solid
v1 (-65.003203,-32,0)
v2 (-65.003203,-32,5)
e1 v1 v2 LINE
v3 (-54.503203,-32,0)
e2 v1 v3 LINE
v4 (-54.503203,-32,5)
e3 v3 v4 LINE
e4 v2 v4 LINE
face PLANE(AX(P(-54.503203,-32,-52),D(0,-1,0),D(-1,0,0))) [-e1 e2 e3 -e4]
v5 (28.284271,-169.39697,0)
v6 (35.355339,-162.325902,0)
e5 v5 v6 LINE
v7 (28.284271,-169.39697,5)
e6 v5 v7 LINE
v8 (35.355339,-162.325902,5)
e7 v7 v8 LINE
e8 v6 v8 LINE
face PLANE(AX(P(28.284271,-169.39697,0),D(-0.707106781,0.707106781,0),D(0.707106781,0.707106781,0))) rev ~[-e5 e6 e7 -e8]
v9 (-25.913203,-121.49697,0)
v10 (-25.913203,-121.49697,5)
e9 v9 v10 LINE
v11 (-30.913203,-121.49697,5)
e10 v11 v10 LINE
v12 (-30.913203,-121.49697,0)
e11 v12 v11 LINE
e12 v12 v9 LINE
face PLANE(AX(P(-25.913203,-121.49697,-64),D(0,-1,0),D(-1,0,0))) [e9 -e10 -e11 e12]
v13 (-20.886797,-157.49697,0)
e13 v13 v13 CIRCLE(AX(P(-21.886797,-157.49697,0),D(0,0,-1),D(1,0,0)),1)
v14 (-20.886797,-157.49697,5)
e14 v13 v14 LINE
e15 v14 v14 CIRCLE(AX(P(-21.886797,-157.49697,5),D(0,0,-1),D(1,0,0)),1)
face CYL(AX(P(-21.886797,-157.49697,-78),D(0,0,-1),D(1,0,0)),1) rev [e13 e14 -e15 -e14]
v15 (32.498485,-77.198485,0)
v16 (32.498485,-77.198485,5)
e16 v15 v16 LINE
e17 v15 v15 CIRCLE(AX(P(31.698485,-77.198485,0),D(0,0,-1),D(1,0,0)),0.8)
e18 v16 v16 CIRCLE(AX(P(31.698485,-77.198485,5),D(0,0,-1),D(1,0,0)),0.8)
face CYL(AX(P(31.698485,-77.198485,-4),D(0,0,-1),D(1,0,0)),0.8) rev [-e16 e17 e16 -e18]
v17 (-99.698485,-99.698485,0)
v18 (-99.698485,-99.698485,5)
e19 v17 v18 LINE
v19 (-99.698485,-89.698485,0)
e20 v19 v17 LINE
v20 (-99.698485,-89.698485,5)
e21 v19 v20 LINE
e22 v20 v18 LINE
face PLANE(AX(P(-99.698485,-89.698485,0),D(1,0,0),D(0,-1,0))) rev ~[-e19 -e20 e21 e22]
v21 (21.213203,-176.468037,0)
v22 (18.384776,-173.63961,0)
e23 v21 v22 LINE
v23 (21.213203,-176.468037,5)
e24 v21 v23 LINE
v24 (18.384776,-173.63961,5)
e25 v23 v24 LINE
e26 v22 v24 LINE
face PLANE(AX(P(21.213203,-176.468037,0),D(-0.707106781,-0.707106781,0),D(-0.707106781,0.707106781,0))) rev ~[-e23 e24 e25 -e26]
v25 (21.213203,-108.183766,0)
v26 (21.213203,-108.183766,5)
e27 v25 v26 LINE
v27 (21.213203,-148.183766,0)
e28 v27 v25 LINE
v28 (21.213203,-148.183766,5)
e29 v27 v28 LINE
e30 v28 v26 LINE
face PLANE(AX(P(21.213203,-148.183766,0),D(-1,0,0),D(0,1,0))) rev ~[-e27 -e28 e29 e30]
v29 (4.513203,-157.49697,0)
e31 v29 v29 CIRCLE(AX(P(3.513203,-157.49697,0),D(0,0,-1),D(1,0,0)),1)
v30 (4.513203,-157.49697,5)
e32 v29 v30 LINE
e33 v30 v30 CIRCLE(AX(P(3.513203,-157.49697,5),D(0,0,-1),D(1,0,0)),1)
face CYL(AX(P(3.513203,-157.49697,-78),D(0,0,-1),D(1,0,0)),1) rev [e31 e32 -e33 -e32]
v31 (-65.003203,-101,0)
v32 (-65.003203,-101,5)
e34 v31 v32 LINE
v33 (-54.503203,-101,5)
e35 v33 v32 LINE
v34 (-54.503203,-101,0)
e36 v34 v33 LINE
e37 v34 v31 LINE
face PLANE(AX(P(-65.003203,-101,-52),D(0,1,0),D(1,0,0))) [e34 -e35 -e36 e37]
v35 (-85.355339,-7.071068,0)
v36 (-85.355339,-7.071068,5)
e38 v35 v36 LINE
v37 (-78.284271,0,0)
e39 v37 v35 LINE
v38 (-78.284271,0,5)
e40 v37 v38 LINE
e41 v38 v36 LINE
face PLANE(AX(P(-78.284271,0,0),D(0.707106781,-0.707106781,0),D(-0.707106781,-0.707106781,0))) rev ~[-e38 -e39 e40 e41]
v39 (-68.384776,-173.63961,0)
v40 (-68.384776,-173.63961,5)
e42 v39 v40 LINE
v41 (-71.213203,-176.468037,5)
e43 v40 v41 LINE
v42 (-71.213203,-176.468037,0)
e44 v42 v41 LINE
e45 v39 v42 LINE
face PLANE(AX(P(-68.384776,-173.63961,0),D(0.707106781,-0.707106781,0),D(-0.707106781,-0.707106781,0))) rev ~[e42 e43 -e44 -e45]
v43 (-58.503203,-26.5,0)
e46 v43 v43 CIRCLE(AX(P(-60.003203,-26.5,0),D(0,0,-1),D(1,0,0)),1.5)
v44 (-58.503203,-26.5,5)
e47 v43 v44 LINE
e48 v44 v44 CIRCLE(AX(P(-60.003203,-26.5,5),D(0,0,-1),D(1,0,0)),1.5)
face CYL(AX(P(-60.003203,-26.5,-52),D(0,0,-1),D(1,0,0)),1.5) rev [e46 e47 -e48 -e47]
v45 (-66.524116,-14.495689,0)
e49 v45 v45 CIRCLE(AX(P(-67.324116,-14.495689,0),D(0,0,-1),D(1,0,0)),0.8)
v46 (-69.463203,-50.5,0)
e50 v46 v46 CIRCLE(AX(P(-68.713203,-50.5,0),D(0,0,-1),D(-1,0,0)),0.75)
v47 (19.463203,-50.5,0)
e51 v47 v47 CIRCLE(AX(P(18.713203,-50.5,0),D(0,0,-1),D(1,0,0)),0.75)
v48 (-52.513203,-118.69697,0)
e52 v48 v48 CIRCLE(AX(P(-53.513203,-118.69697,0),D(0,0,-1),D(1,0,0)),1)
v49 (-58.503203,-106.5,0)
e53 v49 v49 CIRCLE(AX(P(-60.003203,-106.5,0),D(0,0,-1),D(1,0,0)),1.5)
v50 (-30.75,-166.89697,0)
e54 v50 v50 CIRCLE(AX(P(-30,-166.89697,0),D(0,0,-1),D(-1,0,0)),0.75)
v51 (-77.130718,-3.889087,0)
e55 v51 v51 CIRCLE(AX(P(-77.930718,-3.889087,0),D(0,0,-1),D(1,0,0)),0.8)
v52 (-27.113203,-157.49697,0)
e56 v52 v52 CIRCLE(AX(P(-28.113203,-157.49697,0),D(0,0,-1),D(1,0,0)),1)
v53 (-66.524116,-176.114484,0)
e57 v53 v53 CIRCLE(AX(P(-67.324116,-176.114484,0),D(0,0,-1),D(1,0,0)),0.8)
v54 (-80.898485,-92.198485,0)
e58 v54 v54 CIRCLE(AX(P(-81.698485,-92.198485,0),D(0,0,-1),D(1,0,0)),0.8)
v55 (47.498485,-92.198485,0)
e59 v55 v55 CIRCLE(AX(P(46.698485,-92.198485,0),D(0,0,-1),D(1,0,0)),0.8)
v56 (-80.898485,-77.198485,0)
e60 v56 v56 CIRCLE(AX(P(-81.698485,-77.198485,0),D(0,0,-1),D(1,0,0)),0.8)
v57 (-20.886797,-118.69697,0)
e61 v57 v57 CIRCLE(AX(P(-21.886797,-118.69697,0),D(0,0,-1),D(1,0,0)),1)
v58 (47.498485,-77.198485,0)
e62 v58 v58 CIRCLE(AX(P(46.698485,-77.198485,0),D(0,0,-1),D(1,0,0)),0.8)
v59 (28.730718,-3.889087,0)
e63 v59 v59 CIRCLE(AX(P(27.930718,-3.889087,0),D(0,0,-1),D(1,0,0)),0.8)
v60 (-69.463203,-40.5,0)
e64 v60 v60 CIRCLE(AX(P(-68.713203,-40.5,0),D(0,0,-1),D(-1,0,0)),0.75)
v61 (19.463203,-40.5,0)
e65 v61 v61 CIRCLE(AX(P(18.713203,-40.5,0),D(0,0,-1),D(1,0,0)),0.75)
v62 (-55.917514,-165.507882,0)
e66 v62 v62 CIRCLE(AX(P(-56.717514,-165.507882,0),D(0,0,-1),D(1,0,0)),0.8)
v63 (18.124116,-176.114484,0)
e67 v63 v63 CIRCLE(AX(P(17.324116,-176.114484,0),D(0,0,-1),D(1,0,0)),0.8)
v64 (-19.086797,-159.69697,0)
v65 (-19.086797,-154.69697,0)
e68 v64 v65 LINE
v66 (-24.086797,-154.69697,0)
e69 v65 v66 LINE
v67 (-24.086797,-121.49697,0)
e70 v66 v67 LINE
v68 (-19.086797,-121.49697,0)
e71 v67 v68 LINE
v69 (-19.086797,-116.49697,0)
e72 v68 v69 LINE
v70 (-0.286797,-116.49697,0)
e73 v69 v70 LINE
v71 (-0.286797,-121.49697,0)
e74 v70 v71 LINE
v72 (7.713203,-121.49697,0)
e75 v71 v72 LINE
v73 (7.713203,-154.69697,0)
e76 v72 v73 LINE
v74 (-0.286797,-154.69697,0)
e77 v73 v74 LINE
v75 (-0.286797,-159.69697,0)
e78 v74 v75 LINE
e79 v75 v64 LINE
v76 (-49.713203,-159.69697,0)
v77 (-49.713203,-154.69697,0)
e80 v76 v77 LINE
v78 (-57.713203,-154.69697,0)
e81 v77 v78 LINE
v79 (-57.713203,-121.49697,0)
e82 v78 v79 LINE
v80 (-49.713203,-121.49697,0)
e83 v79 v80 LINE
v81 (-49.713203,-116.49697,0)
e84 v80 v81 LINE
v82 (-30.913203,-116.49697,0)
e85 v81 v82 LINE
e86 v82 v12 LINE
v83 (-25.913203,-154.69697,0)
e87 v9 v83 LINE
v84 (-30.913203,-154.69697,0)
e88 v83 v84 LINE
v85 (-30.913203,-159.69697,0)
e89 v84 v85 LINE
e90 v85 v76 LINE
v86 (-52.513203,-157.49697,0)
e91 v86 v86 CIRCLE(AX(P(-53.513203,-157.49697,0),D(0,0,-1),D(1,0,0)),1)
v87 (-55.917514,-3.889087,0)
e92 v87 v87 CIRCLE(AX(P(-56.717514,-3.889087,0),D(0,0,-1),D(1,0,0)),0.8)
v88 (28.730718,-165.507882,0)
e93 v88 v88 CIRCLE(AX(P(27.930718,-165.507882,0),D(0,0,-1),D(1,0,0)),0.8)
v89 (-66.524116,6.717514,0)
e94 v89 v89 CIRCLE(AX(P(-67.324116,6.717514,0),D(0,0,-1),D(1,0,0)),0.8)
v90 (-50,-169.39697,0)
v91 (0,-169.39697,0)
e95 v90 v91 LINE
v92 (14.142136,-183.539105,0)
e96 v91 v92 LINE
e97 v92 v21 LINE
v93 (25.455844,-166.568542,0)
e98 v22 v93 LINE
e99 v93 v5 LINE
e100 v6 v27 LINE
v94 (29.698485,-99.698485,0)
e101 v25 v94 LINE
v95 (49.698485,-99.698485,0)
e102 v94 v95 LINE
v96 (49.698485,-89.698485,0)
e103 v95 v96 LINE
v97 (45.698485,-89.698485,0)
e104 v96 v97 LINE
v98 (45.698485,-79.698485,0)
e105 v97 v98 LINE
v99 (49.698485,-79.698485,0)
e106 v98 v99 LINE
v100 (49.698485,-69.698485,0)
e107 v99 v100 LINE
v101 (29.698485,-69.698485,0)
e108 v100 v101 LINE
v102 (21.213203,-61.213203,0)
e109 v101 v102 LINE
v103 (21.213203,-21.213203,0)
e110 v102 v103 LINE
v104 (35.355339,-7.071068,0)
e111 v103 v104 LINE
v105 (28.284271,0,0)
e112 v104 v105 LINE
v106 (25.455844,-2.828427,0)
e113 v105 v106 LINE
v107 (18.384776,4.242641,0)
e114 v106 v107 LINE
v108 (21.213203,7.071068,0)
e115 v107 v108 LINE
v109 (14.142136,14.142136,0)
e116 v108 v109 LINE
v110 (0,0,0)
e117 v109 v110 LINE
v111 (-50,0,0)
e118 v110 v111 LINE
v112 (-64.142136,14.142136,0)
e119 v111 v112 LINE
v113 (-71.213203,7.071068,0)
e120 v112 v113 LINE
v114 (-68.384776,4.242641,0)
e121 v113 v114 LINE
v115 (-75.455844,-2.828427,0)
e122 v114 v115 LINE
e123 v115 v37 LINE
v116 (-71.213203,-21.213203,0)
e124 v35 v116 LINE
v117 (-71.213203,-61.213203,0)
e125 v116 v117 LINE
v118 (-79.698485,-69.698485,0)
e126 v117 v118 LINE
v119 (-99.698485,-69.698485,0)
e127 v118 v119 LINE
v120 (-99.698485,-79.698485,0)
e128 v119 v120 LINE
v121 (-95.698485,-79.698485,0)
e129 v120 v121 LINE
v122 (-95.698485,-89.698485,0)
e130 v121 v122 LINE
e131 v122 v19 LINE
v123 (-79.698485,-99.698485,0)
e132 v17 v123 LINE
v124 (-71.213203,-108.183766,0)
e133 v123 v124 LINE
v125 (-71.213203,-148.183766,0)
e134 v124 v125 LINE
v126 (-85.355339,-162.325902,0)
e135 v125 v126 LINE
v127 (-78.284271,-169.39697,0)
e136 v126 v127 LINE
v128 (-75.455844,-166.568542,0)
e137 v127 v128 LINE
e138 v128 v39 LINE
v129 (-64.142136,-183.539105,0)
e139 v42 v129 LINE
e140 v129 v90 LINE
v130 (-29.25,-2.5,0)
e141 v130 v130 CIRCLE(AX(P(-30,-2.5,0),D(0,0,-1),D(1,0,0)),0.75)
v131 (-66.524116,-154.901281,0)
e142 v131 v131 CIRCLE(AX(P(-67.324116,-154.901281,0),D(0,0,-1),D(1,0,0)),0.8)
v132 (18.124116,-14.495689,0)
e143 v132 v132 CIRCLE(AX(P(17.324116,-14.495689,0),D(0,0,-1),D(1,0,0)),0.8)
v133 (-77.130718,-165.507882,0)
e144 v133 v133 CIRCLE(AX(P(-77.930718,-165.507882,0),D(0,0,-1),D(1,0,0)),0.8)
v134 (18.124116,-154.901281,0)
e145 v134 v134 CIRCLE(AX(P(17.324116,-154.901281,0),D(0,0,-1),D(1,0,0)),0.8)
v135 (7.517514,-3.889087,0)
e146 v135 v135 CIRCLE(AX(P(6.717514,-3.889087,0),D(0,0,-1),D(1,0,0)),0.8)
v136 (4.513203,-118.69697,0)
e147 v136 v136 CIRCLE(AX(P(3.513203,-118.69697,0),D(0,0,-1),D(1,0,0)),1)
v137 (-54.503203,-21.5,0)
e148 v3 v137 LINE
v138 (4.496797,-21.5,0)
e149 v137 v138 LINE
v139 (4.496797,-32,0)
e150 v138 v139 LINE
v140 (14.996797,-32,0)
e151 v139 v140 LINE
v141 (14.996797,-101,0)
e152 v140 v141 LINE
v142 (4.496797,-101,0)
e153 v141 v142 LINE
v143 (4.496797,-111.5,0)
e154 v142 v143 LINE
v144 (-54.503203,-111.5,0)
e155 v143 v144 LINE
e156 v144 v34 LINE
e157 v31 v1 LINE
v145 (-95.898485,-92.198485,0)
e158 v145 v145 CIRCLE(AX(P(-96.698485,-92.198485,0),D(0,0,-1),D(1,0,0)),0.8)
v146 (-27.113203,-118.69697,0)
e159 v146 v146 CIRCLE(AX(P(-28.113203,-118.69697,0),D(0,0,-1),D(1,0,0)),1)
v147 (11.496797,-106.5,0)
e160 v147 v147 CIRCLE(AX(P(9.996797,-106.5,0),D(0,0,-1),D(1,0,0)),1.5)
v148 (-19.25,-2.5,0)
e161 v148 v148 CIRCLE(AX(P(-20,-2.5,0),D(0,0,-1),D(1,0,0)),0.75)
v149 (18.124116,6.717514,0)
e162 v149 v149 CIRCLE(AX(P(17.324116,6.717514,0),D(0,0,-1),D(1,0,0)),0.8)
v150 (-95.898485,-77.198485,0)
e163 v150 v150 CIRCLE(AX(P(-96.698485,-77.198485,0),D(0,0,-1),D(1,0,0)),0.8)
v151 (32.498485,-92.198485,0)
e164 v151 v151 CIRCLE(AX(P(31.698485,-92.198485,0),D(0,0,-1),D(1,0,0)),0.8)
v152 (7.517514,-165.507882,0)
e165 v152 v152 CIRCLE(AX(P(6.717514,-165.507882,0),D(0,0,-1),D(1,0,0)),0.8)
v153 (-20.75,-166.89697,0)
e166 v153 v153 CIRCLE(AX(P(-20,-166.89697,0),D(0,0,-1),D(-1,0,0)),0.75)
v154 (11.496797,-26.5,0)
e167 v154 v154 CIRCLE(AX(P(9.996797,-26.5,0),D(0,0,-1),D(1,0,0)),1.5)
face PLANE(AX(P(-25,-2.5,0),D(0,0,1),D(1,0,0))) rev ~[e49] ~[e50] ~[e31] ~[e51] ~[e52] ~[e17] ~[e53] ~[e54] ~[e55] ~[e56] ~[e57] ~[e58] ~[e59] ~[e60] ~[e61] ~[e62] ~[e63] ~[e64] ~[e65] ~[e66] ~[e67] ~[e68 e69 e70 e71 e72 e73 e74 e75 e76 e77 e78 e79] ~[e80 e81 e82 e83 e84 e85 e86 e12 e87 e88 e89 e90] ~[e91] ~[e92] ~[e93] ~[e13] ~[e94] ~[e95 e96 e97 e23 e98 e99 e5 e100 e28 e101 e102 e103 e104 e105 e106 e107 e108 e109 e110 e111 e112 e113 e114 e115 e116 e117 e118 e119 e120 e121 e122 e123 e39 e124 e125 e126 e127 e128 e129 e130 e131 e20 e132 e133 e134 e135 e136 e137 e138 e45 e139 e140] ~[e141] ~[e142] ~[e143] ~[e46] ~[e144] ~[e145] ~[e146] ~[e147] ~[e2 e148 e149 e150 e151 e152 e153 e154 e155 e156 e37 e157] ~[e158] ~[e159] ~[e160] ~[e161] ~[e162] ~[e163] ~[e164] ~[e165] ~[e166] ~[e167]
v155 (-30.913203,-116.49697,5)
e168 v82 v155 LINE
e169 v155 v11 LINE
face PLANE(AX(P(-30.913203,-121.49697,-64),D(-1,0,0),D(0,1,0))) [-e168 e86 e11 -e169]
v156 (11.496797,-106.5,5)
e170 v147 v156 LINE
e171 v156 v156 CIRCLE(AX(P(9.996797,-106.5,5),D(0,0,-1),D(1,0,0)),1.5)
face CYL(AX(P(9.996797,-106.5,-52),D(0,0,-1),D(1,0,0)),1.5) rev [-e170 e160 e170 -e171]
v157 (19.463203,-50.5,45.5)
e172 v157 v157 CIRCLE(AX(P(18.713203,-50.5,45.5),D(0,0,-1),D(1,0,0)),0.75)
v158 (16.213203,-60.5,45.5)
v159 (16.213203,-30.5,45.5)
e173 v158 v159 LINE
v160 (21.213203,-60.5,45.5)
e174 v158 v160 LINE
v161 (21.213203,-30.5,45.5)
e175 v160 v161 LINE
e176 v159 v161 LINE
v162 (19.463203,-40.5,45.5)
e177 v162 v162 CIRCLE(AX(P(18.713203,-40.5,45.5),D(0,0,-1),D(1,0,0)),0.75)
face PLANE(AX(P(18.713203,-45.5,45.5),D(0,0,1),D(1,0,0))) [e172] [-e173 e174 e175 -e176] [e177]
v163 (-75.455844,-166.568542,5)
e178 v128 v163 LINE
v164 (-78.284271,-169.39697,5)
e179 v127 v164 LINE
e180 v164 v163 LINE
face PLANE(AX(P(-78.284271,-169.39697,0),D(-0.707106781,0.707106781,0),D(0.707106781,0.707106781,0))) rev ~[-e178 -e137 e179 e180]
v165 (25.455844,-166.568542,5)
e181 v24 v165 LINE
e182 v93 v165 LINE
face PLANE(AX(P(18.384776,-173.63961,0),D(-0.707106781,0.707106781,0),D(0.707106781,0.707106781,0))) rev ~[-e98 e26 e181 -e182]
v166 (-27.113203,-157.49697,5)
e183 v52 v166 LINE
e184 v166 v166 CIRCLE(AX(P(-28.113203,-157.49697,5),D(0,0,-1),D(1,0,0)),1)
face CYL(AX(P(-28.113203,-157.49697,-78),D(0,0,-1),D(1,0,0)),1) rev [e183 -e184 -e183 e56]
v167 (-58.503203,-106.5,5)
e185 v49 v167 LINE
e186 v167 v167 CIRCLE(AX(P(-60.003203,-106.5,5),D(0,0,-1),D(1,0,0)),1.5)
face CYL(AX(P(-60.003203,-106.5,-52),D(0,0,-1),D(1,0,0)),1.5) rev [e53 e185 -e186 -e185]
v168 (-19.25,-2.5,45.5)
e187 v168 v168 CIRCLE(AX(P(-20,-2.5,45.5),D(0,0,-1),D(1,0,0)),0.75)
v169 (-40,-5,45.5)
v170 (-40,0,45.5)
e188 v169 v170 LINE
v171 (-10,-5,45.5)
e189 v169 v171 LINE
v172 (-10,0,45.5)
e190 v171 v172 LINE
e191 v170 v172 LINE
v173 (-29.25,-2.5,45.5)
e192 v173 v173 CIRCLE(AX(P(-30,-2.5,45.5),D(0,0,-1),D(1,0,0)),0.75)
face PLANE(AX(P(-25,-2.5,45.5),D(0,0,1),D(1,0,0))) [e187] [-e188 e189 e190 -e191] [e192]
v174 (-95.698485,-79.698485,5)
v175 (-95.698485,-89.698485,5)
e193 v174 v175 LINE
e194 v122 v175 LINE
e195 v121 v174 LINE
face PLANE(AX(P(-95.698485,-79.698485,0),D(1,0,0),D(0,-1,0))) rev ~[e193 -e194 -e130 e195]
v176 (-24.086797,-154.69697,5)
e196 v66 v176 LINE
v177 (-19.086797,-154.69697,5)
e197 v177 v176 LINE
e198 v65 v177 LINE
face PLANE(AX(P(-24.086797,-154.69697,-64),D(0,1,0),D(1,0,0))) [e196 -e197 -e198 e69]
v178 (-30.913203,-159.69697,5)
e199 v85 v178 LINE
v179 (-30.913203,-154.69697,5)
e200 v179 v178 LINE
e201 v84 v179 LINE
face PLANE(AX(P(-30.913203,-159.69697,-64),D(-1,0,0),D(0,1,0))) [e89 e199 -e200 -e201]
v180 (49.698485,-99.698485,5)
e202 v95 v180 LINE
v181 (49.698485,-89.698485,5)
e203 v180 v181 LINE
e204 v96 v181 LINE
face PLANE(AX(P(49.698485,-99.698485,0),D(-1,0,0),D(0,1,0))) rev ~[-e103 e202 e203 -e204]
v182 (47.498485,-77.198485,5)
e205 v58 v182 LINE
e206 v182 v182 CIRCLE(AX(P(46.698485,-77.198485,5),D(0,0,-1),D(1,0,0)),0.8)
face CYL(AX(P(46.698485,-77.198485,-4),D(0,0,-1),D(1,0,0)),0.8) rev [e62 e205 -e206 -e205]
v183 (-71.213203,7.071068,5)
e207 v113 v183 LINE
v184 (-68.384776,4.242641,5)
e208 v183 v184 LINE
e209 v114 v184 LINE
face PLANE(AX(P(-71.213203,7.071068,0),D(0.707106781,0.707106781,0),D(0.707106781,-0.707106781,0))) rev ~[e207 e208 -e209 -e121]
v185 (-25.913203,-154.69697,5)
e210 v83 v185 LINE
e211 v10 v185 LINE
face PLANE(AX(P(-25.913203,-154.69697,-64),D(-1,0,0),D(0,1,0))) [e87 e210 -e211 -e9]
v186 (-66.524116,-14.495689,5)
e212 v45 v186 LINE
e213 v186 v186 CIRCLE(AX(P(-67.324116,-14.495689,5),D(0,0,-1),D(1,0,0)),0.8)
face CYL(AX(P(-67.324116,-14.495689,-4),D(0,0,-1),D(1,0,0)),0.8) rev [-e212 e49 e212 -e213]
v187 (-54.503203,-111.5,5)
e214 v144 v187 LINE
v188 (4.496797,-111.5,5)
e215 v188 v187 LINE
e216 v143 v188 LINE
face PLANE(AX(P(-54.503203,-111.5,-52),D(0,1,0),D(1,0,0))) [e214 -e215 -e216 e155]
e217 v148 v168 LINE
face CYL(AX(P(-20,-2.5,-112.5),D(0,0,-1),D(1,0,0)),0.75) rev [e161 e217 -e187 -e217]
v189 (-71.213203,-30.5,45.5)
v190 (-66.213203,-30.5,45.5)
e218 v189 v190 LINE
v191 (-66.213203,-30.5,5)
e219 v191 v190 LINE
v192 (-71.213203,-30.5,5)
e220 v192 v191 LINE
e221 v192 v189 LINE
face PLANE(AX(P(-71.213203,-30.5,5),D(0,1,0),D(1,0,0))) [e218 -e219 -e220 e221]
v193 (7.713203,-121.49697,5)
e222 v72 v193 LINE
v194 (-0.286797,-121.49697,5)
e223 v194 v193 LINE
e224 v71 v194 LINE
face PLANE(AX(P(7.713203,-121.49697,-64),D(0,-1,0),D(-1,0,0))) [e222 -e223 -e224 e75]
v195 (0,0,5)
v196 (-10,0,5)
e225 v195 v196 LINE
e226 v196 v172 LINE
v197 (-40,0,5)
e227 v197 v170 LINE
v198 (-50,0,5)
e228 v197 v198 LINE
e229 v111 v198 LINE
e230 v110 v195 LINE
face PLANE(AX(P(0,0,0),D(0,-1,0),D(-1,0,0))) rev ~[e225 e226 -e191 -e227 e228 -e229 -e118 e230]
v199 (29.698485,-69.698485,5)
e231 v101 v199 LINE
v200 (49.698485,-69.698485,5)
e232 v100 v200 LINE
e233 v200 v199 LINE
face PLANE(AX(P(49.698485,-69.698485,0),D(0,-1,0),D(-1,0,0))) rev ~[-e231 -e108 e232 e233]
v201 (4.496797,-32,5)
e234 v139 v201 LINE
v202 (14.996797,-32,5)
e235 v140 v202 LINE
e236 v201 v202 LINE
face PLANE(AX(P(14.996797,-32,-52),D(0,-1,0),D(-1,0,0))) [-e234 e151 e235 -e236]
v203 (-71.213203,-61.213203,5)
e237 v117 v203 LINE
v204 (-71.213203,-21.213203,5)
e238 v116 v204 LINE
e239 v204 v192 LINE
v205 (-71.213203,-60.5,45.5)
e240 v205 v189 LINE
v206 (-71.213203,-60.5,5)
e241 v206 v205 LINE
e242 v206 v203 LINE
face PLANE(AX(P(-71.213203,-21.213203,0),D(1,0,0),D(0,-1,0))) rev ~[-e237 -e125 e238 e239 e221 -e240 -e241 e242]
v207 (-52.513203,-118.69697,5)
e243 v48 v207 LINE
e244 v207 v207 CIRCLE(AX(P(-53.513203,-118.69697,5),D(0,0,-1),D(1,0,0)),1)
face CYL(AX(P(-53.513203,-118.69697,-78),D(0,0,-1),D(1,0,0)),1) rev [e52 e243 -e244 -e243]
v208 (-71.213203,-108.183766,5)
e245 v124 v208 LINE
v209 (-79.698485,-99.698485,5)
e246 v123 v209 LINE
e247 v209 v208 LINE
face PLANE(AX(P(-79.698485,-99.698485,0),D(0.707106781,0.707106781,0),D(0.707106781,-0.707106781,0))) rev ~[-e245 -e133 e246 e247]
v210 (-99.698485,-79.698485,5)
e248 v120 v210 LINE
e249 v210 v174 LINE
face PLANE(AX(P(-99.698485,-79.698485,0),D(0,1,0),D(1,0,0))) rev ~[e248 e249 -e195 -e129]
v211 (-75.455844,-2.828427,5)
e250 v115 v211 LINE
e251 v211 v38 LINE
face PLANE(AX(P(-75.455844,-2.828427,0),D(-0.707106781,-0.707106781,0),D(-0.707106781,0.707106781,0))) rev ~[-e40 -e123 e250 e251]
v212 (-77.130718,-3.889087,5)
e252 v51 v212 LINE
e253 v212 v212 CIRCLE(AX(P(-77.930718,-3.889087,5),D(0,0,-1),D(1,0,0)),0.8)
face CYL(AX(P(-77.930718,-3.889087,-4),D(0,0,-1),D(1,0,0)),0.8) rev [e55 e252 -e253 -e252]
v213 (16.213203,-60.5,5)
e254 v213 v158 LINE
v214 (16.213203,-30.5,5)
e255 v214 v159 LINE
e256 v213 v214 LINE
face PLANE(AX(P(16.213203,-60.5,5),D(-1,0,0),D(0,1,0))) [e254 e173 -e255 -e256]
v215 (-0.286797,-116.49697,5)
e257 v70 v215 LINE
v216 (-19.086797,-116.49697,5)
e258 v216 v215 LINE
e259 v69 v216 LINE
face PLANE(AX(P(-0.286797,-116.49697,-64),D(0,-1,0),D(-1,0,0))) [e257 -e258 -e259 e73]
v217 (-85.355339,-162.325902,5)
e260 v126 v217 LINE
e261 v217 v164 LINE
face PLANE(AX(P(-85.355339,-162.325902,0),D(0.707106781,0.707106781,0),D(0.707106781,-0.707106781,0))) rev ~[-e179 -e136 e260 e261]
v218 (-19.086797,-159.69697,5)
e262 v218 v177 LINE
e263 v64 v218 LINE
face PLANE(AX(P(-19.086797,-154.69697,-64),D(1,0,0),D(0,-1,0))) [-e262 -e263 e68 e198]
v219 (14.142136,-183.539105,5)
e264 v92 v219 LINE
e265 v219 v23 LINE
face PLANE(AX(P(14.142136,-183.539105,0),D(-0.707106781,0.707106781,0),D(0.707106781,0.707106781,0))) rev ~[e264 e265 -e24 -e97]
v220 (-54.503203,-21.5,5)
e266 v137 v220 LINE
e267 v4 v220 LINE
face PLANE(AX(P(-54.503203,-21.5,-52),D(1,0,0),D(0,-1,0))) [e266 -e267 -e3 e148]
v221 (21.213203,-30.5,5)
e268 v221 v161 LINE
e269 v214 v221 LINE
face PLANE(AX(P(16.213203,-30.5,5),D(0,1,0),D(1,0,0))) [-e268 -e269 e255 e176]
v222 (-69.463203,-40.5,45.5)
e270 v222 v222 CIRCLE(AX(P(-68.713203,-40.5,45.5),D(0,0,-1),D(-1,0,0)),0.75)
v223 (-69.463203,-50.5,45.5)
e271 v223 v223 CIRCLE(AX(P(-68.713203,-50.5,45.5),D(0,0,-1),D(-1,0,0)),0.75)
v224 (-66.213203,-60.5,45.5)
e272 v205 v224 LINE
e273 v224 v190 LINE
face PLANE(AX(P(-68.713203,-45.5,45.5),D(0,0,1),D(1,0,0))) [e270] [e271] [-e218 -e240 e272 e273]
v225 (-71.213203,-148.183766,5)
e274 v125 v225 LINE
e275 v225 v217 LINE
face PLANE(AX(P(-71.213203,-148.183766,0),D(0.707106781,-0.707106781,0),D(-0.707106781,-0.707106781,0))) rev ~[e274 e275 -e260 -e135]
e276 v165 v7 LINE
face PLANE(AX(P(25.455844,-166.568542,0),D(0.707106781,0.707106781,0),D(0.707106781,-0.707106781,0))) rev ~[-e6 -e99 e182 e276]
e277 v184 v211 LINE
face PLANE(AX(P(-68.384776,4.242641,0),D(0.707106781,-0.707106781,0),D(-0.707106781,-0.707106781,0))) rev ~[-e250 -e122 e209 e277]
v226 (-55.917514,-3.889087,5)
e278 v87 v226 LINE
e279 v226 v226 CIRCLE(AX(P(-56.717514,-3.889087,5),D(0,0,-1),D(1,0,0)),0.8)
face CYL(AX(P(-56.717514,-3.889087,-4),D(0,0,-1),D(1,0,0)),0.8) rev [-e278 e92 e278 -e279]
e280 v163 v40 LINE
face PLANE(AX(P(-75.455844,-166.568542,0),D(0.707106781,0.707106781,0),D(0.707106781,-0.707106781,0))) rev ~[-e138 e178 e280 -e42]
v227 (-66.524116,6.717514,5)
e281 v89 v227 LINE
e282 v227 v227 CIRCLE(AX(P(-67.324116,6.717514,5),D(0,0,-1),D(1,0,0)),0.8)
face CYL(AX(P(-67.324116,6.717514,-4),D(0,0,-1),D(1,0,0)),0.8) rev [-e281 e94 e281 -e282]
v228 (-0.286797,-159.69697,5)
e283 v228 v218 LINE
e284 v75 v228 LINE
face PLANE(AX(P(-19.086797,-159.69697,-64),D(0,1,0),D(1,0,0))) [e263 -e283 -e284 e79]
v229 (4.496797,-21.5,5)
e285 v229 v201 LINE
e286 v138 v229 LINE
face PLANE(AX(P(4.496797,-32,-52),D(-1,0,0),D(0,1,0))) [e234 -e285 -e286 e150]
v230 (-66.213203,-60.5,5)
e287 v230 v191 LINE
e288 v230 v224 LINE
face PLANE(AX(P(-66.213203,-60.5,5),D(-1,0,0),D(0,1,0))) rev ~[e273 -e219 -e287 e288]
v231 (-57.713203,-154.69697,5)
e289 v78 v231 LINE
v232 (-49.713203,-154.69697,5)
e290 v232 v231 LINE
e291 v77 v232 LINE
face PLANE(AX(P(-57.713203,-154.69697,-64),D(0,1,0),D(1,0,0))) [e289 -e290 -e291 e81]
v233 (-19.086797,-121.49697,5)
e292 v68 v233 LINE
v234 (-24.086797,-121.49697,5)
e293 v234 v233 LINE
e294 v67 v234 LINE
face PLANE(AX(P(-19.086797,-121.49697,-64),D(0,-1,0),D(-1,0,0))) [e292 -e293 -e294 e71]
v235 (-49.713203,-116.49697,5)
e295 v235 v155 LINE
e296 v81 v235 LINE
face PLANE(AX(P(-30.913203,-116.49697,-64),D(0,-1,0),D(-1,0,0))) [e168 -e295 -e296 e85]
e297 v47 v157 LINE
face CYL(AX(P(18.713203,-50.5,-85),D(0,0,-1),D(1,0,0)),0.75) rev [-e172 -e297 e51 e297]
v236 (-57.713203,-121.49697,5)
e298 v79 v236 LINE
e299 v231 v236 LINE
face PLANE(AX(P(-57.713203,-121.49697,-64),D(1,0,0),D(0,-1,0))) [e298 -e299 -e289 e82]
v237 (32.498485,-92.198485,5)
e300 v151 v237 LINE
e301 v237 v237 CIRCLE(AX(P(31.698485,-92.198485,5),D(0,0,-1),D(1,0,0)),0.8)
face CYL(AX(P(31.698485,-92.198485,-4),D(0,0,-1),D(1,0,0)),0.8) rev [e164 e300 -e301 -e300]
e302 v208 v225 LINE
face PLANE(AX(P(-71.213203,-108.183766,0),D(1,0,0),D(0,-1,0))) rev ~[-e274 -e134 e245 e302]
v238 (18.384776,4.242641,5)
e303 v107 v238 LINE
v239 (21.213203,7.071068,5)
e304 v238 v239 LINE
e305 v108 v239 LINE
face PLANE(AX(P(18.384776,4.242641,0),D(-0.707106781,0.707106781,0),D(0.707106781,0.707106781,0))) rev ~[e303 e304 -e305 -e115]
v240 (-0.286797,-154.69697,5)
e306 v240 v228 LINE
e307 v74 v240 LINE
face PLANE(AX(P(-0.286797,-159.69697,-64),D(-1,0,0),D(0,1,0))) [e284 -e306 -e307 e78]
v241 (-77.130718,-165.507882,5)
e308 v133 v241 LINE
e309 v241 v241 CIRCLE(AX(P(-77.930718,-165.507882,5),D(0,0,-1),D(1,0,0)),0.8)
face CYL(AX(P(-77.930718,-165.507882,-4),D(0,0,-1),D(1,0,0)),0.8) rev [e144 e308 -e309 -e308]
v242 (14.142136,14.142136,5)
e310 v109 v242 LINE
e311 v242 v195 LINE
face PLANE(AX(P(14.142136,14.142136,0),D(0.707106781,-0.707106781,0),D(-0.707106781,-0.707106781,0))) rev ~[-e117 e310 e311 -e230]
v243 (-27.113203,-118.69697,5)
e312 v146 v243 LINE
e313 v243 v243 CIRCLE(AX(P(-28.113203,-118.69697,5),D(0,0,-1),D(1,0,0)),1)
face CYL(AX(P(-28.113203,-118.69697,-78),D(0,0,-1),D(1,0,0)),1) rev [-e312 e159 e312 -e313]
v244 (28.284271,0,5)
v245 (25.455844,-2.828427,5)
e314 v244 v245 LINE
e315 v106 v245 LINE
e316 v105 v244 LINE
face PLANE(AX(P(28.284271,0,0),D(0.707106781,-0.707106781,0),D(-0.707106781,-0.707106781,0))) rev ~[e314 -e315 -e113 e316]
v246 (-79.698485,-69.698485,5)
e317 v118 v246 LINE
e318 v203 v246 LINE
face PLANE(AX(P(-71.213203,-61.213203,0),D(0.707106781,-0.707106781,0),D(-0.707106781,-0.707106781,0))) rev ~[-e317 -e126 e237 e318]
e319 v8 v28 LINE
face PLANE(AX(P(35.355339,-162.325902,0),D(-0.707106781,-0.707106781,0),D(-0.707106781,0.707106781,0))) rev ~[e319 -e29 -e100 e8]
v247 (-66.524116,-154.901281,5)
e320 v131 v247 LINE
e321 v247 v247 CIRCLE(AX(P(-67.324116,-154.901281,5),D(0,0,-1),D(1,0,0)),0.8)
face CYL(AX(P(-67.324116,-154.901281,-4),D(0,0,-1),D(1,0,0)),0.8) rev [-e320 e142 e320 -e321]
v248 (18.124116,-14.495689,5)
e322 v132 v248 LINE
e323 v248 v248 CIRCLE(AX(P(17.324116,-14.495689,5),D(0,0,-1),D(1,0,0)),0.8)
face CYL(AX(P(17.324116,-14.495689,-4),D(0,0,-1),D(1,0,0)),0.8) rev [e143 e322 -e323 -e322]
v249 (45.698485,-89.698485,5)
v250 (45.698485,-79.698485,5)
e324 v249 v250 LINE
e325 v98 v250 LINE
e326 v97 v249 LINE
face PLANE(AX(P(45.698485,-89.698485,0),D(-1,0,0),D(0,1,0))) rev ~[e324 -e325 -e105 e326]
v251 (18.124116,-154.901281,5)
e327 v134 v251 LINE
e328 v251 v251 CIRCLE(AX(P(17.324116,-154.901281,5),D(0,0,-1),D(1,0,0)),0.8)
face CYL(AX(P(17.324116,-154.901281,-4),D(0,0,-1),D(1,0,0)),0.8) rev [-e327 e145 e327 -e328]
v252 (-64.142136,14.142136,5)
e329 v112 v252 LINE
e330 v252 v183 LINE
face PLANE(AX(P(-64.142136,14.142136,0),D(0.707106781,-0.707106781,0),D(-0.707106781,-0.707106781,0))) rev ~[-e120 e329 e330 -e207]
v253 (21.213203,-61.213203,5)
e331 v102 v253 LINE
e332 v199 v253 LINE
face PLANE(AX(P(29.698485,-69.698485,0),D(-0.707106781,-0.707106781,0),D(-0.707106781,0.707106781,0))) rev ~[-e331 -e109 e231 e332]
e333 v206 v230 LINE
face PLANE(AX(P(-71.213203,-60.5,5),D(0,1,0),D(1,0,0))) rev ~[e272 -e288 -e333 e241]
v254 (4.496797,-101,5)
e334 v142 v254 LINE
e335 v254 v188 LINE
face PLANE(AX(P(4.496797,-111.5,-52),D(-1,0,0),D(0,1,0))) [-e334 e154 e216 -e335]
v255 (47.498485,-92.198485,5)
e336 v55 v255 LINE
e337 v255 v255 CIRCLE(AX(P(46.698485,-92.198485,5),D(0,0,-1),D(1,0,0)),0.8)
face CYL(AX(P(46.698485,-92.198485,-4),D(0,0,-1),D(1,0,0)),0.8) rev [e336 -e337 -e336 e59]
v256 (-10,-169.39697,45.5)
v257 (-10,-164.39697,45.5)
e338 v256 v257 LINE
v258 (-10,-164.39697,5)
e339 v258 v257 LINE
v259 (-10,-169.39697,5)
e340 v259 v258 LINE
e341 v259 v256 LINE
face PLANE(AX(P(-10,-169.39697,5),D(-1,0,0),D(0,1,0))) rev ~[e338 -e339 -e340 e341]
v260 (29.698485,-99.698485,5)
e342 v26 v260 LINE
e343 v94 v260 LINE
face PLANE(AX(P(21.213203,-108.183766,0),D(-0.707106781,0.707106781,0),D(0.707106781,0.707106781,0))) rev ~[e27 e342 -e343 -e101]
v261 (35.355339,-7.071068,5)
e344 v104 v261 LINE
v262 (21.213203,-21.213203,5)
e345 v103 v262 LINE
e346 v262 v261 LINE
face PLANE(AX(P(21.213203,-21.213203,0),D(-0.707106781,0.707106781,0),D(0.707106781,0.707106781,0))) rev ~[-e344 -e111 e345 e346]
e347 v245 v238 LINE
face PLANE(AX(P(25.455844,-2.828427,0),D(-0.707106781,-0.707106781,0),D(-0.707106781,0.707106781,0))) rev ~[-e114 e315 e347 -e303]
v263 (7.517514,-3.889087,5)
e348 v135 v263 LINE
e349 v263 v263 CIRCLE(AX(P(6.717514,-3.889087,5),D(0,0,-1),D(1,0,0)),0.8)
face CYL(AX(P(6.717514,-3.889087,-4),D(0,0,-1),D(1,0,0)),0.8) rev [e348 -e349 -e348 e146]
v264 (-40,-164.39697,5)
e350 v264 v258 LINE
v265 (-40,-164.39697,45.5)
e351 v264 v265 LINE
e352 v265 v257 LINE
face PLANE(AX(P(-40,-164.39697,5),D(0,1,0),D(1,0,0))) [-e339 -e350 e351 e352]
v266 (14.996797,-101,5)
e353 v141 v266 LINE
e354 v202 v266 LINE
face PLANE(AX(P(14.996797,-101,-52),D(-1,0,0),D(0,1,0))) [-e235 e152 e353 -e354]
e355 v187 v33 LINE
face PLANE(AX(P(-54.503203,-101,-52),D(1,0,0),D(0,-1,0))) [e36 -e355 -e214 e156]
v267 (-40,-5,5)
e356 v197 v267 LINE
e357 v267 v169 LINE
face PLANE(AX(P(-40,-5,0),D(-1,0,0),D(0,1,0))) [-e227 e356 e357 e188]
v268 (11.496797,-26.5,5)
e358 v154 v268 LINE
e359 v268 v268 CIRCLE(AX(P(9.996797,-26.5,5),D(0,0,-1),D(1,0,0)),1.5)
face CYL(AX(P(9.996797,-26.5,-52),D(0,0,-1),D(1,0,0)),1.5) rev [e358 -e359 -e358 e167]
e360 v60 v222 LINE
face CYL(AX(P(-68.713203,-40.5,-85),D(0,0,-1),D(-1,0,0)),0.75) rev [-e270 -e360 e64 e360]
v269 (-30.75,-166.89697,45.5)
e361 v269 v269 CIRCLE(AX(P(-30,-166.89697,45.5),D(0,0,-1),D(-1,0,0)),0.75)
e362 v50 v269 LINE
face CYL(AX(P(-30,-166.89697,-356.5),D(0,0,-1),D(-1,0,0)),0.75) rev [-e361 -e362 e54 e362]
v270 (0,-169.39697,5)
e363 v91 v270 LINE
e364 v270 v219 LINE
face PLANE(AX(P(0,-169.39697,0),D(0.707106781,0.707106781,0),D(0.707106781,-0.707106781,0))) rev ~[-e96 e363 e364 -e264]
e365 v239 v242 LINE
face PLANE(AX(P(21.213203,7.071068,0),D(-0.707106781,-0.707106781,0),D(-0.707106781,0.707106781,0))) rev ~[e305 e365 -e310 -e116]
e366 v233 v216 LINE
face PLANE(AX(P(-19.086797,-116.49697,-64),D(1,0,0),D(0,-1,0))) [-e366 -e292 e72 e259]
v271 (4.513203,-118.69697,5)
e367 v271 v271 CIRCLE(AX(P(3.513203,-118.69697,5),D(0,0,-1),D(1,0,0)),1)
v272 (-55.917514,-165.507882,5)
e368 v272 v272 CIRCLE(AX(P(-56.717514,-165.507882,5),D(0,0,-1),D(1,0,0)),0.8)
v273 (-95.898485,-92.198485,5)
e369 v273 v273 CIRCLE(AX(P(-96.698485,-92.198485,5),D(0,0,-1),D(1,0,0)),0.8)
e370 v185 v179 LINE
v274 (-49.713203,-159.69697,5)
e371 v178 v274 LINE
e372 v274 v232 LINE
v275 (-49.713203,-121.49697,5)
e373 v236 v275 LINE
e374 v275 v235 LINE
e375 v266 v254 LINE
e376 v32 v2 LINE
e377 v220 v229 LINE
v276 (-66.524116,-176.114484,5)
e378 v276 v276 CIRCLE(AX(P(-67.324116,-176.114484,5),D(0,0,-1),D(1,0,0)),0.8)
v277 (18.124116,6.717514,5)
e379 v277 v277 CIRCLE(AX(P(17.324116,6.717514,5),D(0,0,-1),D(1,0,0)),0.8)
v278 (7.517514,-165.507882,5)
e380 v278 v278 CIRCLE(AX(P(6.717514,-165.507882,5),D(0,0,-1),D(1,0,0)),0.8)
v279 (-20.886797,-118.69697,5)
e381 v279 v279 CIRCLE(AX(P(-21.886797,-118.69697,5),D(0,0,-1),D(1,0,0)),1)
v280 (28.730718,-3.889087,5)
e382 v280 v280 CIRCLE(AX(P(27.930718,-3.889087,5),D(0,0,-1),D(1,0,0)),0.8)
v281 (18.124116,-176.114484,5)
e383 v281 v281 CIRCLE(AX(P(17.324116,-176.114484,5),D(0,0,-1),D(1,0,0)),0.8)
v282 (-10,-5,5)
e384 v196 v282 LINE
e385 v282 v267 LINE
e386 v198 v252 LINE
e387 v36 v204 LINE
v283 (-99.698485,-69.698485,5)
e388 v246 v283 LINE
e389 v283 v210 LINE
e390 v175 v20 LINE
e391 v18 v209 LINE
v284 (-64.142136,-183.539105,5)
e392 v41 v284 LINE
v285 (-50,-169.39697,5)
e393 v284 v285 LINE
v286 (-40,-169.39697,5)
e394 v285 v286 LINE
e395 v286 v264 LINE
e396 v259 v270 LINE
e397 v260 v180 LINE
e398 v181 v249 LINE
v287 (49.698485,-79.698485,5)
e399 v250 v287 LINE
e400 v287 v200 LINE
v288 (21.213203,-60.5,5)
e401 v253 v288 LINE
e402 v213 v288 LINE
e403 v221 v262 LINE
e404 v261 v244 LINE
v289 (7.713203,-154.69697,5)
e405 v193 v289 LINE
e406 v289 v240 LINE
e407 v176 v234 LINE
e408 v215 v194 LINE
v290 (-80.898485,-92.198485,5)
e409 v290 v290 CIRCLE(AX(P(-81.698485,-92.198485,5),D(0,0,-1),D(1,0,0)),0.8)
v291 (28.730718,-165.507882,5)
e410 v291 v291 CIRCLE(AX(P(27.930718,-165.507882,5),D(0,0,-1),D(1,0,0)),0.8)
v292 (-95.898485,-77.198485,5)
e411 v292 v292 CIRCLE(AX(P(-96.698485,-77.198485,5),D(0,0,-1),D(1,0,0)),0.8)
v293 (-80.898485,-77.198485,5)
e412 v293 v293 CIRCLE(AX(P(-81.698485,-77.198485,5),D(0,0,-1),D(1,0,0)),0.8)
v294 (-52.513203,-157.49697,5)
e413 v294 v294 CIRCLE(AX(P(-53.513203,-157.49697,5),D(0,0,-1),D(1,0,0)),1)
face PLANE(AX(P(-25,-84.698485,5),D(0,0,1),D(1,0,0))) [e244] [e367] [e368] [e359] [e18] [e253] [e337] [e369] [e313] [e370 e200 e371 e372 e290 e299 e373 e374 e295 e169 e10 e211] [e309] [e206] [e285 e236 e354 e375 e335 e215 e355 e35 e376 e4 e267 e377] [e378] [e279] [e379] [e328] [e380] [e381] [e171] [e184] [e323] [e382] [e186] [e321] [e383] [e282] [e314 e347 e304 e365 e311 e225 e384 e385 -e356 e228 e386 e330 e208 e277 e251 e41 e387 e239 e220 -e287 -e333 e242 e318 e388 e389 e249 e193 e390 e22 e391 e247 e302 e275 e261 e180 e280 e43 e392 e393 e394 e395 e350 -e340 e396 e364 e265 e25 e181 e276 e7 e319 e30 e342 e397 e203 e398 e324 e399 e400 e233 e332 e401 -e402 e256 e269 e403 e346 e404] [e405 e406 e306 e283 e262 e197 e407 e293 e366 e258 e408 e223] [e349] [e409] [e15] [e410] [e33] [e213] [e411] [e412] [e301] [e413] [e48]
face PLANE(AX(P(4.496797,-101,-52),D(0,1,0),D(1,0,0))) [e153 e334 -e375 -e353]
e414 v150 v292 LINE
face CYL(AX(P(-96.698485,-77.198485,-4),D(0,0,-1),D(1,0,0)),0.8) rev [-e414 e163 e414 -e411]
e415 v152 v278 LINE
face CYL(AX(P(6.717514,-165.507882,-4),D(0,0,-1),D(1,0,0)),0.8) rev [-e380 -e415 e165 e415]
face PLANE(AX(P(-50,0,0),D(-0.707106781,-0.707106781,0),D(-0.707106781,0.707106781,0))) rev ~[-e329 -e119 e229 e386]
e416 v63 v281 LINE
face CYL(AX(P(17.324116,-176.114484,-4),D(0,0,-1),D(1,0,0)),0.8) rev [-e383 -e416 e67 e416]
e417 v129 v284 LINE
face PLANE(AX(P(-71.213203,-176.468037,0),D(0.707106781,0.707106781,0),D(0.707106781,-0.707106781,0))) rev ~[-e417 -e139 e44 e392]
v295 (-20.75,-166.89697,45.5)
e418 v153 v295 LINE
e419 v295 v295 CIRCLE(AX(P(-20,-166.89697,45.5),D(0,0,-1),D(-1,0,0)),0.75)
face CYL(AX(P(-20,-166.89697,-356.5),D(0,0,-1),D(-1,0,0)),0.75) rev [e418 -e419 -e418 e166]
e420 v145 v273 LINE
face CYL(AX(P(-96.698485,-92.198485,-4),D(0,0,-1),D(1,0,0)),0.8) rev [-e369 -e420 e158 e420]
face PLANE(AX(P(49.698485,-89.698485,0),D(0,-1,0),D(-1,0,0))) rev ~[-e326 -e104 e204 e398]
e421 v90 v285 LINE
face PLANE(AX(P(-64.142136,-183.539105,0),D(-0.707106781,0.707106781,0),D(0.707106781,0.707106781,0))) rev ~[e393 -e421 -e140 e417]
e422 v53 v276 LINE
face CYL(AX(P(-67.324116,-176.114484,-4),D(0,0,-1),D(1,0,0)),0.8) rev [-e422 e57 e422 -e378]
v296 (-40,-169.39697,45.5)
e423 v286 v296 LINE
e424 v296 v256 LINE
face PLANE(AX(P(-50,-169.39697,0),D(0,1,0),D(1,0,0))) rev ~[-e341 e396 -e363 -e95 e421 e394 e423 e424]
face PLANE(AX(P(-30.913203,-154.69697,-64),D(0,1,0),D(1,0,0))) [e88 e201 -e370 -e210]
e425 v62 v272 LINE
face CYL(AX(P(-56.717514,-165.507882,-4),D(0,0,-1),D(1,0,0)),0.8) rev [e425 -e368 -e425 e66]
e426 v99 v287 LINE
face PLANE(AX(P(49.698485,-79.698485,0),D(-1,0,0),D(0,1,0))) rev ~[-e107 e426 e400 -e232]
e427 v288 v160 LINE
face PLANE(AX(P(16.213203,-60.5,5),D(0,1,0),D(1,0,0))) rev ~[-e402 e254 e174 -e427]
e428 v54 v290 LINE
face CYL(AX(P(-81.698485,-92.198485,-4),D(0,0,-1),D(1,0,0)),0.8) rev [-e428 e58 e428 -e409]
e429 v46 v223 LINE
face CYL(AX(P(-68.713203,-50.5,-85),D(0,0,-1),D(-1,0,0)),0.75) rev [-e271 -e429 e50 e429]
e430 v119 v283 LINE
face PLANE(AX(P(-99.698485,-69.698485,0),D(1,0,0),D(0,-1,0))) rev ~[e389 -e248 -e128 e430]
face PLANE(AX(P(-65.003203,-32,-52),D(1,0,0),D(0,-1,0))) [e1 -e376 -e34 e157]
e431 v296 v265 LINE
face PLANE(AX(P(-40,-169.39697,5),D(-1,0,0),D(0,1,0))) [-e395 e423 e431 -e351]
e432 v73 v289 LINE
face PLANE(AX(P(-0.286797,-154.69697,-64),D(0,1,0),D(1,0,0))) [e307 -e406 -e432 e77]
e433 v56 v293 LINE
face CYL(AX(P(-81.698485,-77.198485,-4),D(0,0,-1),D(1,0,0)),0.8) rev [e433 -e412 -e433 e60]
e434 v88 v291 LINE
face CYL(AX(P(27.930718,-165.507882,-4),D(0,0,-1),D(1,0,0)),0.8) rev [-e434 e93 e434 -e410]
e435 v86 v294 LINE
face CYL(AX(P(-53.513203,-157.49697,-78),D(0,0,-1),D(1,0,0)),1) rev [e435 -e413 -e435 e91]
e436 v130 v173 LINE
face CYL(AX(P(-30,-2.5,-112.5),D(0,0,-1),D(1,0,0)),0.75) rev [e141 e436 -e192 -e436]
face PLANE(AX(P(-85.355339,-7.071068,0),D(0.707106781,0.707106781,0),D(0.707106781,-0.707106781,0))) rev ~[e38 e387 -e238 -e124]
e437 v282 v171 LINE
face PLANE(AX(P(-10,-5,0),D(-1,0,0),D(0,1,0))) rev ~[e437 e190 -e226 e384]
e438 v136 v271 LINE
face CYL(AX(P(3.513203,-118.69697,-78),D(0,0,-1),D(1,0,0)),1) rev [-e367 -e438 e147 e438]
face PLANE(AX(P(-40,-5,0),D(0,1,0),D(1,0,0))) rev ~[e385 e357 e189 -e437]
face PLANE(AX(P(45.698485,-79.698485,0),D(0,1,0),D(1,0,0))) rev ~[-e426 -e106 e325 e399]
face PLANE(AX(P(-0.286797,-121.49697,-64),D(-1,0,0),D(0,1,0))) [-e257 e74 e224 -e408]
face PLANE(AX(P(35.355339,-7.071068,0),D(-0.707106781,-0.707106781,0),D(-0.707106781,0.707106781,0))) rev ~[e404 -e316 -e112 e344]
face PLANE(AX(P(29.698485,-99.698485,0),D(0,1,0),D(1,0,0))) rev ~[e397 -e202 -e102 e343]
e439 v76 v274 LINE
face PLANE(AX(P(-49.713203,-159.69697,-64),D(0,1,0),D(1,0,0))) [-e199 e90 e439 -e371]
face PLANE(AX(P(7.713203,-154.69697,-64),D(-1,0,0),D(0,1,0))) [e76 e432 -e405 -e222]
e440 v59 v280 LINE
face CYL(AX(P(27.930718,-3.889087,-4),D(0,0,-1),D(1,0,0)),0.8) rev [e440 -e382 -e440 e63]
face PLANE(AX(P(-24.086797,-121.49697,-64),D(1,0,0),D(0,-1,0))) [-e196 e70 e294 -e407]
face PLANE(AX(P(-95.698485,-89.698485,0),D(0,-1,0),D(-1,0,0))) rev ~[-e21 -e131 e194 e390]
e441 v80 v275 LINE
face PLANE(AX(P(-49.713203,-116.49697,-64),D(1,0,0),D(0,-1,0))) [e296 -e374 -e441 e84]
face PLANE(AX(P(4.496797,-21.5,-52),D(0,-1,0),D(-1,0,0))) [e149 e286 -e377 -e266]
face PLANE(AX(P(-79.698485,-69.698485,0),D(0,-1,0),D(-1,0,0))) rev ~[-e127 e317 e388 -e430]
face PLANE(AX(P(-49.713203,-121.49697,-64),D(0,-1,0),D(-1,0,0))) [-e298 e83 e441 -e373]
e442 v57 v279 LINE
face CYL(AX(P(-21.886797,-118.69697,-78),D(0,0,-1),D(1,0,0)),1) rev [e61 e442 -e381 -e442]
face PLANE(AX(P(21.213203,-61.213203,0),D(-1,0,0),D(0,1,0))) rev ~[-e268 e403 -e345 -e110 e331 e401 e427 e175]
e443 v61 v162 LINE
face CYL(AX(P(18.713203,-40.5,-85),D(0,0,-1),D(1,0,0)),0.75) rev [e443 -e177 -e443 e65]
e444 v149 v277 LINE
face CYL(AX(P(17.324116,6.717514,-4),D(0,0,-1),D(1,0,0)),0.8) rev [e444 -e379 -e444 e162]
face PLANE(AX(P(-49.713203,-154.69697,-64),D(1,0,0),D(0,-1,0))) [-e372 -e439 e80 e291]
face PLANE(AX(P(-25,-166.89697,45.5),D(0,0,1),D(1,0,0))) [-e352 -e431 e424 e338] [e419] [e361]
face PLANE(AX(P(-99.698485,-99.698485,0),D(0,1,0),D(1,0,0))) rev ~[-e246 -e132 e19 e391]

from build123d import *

# Parameters (mm, degrees)
DODANIE_WYCI_GNI_CIE1_DEPTH     = 5
WYTNIJ_WYCI_GNI_CIE3_DEPTH      = 16
WYTNIJ_WYCI_GNI_CIE3_DEPTH_BACK = 4
SZKIC3_R                        = 0.8
WYTNIJ_WYCI_GNI_CIE4_DEPTH      = 26
WYTNIJ_WYCI_GNI_CIE4_DEPTH_BACK = 52
SZKIC5_R                        = 1.5
WYTNIJ_WYCI_GNI_CIE5_DEPTH      = 31
WYTNIJ_WYCI_GNI_CIE5_DEPTH_BACK = 69
WYTNIJ_WYCI_GNI_CIE6_DEPTH      = 22
WYTNIJ_WYCI_GNI_CIE6_DEPTH_BACK = 83
SZKIC7_R                        = 1
SZKIC8_W                        = 30
SZKIC8_H                        = 5
DODANIE_WYCI_GNI_CIE2_DEPTH     = 45.5
SZKIC10_W                       = 30
SZKIC10_H                       = 5
DODANIE_WYCI_GNI_CIE3_DEPTH     = 40.5
WYTNIJ_WYCI_GNI_CIE7_DEPTH      = 112
WYTNIJ_WYCI_GNI_CIE7_DEPTH_BACK = 158
SZKIC11_R                       = 0.75
WYTNIJ_WYCI_GNI_CIE8_DEPTH      = 220
WYTNIJ_WYCI_GNI_CIE8_DEPTH_BACK = 402
SZKIC12_R                       = 0.75
SZKIC13_W                       = 5
SZKIC13_H                       = 30
DODANIE_WYCI_GNI_CIE4_DEPTH     = 40.5
WYTNIJ_WYCI_GNI_CIE9_DEPTH      = 48
WYTNIJ_WYCI_GNI_CIE9_DEPTH_BACK = 85
SZKIC14_R                       = 0.75


with BuildPart() as part:
    # Szkic1 → Dodanie-wyciągnięcie1 (new body)
    with BuildSketch(Plane.XY):
        Polygon((0, 0), (-50, 0), (-64.142135624, 14.142135624), (-71.213203436, 7.071067812), (-68.384776311, 4.242640687), (-75.455844123, -2.828427125), (-78.284271247, 0), (-85.355339059, -7.071067812), (-71.213203436, -21.213203436), (-71.213203436, -61.213203436), (-79.69848481, -69.69848481), (-99.69848481, -69.69848481), (-99.69848481, -79.69848481), (-95.69848481, -79.69848481), (-95.69848481, -89.69848481), (-99.69848481, -89.69848481), (-99.69848481, -99.69848481), (-79.69848481, -99.69848481), (-71.213203436, -108.183766184), (-71.213203436, -148.183766184), (-85.355339059, -162.325901808), (-78.284271247, -169.39696962), (-75.455844123, -166.568542495), (-68.384776311, -173.639610307), (-71.213203436, -176.468037432), (-64.142135624, -183.539105243), (-50, -169.39696962), (0, -169.39696962), (14.142135624, -183.539105243), (21.213203436, -176.468037432), (18.384776311, -173.639610307), (25.455844123, -166.568542495), (28.284271247, -169.39696962), (35.355339059, -162.325901808), (21.213203436, -148.183766184), (21.213203436, -108.183766184), (29.69848481, -99.69848481), (49.69848481, -99.69848481), (49.69848481, -89.69848481), (45.69848481, -89.69848481), (45.69848481, -79.69848481), (49.69848481, -79.69848481), (49.69848481, -69.69848481), (29.69848481, -69.69848481), (21.213203436, -61.213203436), (21.213203436, -21.213203436), (35.355339059, -7.071067812), (28.284271247, 0), (25.455844123, -2.828427125), (18.384776311, 4.242640687), (21.213203436, 7.071067812), (14.142135624, 14.142135624), align=None)
    extrude(amount=DODANIE_WYCI_GNI_CIE1_DEPTH)

    # Szkic3 → Wytnij-wyciągnięcie3 (cut, two sides: drawn at the far end of the back side and taken through both)
    with BuildSketch(Plane.XY.offset(-WYTNIJ_WYCI_GNI_CIE3_DEPTH_BACK)):
        with Locations((31.69848481, -77.19848481)):
            Circle(SZKIC3_R)
        with Locations((46.69848481, -77.19848481)):
            Circle(SZKIC3_R)
        with Locations((31.69848481, -92.19848481)):
            Circle(SZKIC3_R)
        with Locations((46.69848481, -92.19848481)):
            Circle(SZKIC3_R)
        with Locations((-81.69848481, -77.19848481)):
            Circle(SZKIC3_R)
        with Locations((-96.69848481, -77.19848481)):
            Circle(SZKIC3_R)
        with Locations((17.324116139, -154.901280605)):
            Circle(SZKIC3_R)
        with Locations((27.930717857, -165.507882323)):
            Circle(SZKIC3_R)
        with Locations((17.324116139, -176.114484041)):
            Circle(SZKIC3_R)
        with Locations((6.717514421, -165.507882323)):
            Circle(SZKIC3_R)
        with Locations((-67.324116139, -154.901280605)):
            Circle(SZKIC3_R)
        with Locations((-77.930717857, -165.507882323)):
            Circle(SZKIC3_R)
        with Locations((-67.324116139, -176.114484041)):
            Circle(SZKIC3_R)
        with Locations((-56.717514421, -165.507882323)):
            Circle(SZKIC3_R)
        with Locations((17.324116139, 6.717514421)):
            Circle(SZKIC3_R)
        with Locations((27.930717857, -3.889087297)):
            Circle(SZKIC3_R)
        with Locations((6.717514421, -3.889087297)):
            Circle(SZKIC3_R)
        with Locations((17.324116139, -14.495689014)):
            Circle(SZKIC3_R)
        with Locations((-67.324116139, 6.717514421)):
            Circle(SZKIC3_R)
        with Locations((-56.717514421, -3.889087297)):
            Circle(SZKIC3_R)
        with Locations((-77.930717857, -3.889087297)):
            Circle(SZKIC3_R)
        with Locations((-67.324116139, -14.495689014)):
            Circle(SZKIC3_R)
        with Locations((-96.69848481, -92.19848481)):
            Circle(SZKIC3_R)
        with Locations((-81.69848481, -92.19848481)):
            Circle(SZKIC3_R)
    extrude(amount=WYTNIJ_WYCI_GNI_CIE3_DEPTH + WYTNIJ_WYCI_GNI_CIE3_DEPTH_BACK, mode=Mode.SUBTRACT)

    # Szkic5 → Wytnij-wyciągnięcie4 (cut, two sides: drawn at the far end of the back side and taken through both)
    with BuildSketch(Plane.XY.offset(-WYTNIJ_WYCI_GNI_CIE4_DEPTH_BACK)):
        with Locations((-60.003203436, -26.5)):
            Circle(SZKIC5_R)
        with Locations((9.996796564, -26.5)):
            Circle(SZKIC5_R)
        with Locations((9.996796564, -106.5)):
            Circle(SZKIC5_R)
        with Locations((-60.003203436, -106.5)):
            Circle(SZKIC5_R)
        Polygon((4.496796564, -21.5), (-54.503203436, -21.5), (-54.503203436, -32), (-65.003203436, -32), (-65.003203436, -101), (-54.503203436, -101), (-54.503203436, -111.5), (4.496796564, -111.5), (4.496796564, -101), (14.996796564, -101), (14.996796564, -32), (4.496796564, -32), align=None)
    extrude(amount=WYTNIJ_WYCI_GNI_CIE4_DEPTH + WYTNIJ_WYCI_GNI_CIE4_DEPTH_BACK, mode=Mode.SUBTRACT)

    # Szkic6 → Wytnij-wyciągnięcie5 (cut, two sides: drawn at the far end of the back side and taken through both)
    with BuildSketch(Plane.XY.offset(5).offset(-WYTNIJ_WYCI_GNI_CIE5_DEPTH_BACK)):
        Polygon((-30.913203436, -116.49696962), (-49.713203436, -116.49696962), (-49.713203436, -121.49696962), (-57.713203436, -121.49696962), (-57.713203436, -154.69696962), (-49.713203436, -154.69696962), (-49.713203436, -159.69696962), (-30.913203436, -159.69696962), (-30.913203436, -154.69696962), (-25.913203436, -154.69696962), (-25.913203436, -121.49696962), (-30.913203436, -121.49696962), align=None)
        Polygon((-0.286796564, -121.49696962), (-0.286796564, -116.49696962), (-19.086796564, -116.49696962), (-19.086796564, -121.49696962), (-24.086796564, -121.49696962), (-24.086796564, -154.69696962), (-19.086796564, -154.69696962), (-19.086796564, -159.69696962), (-0.286796564, -159.69696962), (-0.286796564, -154.69696962), (7.713203436, -154.69696962), (7.713203436, -121.49696962), align=None)
    extrude(amount=WYTNIJ_WYCI_GNI_CIE5_DEPTH + WYTNIJ_WYCI_GNI_CIE5_DEPTH_BACK, mode=Mode.SUBTRACT)

    # Szkic7 → Wytnij-wyciągnięcie6 (cut, two sides: drawn at the far end of the back side and taken through both)
    with BuildSketch(Plane.XY.offset(5).offset(-WYTNIJ_WYCI_GNI_CIE6_DEPTH_BACK)):
        with Locations((-53.513203436, -118.69696962)):
            Circle(SZKIC7_R)
        with Locations((-28.113203436, -118.69696962)):
            Circle(SZKIC7_R)
        with Locations((-21.886796564, -118.69696962)):
            Circle(SZKIC7_R)
        with Locations((3.513203436, -118.69696962)):
            Circle(SZKIC7_R)
        with Locations((3.513203436, -157.49696962)):
            Circle(SZKIC7_R)
        with Locations((-21.886796564, -157.49696962)):
            Circle(SZKIC7_R)
        with Locations((-28.113203436, -157.49696962)):
            Circle(SZKIC7_R)
        with Locations((-53.513203436, -157.49696962)):
            Circle(SZKIC7_R)
    extrude(amount=WYTNIJ_WYCI_GNI_CIE6_DEPTH + WYTNIJ_WYCI_GNI_CIE6_DEPTH_BACK, mode=Mode.SUBTRACT)

    # Szkic8 → Dodanie-wyciągnięcie2 (add)
    with BuildSketch(Plane.XY):
        with Locations((-25, -2.5)):
            Rectangle(SZKIC8_W, SZKIC8_H)
    extrude(amount=DODANIE_WYCI_GNI_CIE2_DEPTH)

    # Szkic10 → Dodanie-wyciągnięcie3 (add)
    with BuildSketch(Plane.XY.offset(5)):
        with Locations((-25, -166.89696962)):
            Rectangle(SZKIC10_W, SZKIC10_H)
    extrude(amount=DODANIE_WYCI_GNI_CIE3_DEPTH)

    # Szkic11 → Wytnij-wyciągnięcie7 (cut, two sides: drawn at the far end of the back side and taken through both)
    with BuildSketch(Plane.XY.offset(45.5).offset(-WYTNIJ_WYCI_GNI_CIE7_DEPTH_BACK)):
        with Locations((-30, -2.5)):
            Circle(SZKIC11_R)
        with Locations((-20, -2.5)):
            Circle(SZKIC11_R)
    extrude(amount=WYTNIJ_WYCI_GNI_CIE7_DEPTH + WYTNIJ_WYCI_GNI_CIE7_DEPTH_BACK, mode=Mode.SUBTRACT)

    # Szkic12 → Wytnij-wyciągnięcie8 (cut, two sides: drawn at the far end of the back side and taken through both)
    with BuildSketch(Plane.XY.offset(45.5).offset(-WYTNIJ_WYCI_GNI_CIE8_DEPTH_BACK)):
        with Locations(Location((-30, -166.89696962, 0), (0, 0, 180))):
            Circle(SZKIC12_R)
        with Locations(Location((-20, -166.89696962, 0), (0, 0, 180))):
            Circle(SZKIC12_R)
    extrude(amount=WYTNIJ_WYCI_GNI_CIE8_DEPTH + WYTNIJ_WYCI_GNI_CIE8_DEPTH_BACK, mode=Mode.SUBTRACT)

    # Szkic13 → Dodanie-wyciągnięcie4 (add)
    with BuildSketch(Plane.XY.offset(5)):
        with Locations((-68.713203436, -45.5)):
            Rectangle(SZKIC13_W, SZKIC13_H)
        with Locations((18.713203436, -45.5)):
            Rectangle(SZKIC13_W, SZKIC13_H)
    extrude(amount=DODANIE_WYCI_GNI_CIE4_DEPTH)

    # Szkic14 → Wytnij-wyciągnięcie9 (cut, two sides: drawn at the far end of the back side and taken through both)
    with BuildSketch(Plane.XY.offset(-WYTNIJ_WYCI_GNI_CIE9_DEPTH_BACK)):
        with Locations(Location((-68.713203436, -40.5, 0), (0, 0, 180))):
            Circle(SZKIC14_R)
        with Locations(Location((-68.713203436, -50.5, 0), (0, 0, 180))):
            Circle(SZKIC14_R)
        with Locations((18.713203436, -40.5)):
            Circle(SZKIC14_R)
        with Locations((18.713203436, -50.5)):
            Circle(SZKIC14_R)
    extrude(amount=WYTNIJ_WYCI_GNI_CIE9_DEPTH + WYTNIJ_WYCI_GNI_CIE9_DEPTH_BACK, mode=Mode.SUBTRACT)


solid = part.part
